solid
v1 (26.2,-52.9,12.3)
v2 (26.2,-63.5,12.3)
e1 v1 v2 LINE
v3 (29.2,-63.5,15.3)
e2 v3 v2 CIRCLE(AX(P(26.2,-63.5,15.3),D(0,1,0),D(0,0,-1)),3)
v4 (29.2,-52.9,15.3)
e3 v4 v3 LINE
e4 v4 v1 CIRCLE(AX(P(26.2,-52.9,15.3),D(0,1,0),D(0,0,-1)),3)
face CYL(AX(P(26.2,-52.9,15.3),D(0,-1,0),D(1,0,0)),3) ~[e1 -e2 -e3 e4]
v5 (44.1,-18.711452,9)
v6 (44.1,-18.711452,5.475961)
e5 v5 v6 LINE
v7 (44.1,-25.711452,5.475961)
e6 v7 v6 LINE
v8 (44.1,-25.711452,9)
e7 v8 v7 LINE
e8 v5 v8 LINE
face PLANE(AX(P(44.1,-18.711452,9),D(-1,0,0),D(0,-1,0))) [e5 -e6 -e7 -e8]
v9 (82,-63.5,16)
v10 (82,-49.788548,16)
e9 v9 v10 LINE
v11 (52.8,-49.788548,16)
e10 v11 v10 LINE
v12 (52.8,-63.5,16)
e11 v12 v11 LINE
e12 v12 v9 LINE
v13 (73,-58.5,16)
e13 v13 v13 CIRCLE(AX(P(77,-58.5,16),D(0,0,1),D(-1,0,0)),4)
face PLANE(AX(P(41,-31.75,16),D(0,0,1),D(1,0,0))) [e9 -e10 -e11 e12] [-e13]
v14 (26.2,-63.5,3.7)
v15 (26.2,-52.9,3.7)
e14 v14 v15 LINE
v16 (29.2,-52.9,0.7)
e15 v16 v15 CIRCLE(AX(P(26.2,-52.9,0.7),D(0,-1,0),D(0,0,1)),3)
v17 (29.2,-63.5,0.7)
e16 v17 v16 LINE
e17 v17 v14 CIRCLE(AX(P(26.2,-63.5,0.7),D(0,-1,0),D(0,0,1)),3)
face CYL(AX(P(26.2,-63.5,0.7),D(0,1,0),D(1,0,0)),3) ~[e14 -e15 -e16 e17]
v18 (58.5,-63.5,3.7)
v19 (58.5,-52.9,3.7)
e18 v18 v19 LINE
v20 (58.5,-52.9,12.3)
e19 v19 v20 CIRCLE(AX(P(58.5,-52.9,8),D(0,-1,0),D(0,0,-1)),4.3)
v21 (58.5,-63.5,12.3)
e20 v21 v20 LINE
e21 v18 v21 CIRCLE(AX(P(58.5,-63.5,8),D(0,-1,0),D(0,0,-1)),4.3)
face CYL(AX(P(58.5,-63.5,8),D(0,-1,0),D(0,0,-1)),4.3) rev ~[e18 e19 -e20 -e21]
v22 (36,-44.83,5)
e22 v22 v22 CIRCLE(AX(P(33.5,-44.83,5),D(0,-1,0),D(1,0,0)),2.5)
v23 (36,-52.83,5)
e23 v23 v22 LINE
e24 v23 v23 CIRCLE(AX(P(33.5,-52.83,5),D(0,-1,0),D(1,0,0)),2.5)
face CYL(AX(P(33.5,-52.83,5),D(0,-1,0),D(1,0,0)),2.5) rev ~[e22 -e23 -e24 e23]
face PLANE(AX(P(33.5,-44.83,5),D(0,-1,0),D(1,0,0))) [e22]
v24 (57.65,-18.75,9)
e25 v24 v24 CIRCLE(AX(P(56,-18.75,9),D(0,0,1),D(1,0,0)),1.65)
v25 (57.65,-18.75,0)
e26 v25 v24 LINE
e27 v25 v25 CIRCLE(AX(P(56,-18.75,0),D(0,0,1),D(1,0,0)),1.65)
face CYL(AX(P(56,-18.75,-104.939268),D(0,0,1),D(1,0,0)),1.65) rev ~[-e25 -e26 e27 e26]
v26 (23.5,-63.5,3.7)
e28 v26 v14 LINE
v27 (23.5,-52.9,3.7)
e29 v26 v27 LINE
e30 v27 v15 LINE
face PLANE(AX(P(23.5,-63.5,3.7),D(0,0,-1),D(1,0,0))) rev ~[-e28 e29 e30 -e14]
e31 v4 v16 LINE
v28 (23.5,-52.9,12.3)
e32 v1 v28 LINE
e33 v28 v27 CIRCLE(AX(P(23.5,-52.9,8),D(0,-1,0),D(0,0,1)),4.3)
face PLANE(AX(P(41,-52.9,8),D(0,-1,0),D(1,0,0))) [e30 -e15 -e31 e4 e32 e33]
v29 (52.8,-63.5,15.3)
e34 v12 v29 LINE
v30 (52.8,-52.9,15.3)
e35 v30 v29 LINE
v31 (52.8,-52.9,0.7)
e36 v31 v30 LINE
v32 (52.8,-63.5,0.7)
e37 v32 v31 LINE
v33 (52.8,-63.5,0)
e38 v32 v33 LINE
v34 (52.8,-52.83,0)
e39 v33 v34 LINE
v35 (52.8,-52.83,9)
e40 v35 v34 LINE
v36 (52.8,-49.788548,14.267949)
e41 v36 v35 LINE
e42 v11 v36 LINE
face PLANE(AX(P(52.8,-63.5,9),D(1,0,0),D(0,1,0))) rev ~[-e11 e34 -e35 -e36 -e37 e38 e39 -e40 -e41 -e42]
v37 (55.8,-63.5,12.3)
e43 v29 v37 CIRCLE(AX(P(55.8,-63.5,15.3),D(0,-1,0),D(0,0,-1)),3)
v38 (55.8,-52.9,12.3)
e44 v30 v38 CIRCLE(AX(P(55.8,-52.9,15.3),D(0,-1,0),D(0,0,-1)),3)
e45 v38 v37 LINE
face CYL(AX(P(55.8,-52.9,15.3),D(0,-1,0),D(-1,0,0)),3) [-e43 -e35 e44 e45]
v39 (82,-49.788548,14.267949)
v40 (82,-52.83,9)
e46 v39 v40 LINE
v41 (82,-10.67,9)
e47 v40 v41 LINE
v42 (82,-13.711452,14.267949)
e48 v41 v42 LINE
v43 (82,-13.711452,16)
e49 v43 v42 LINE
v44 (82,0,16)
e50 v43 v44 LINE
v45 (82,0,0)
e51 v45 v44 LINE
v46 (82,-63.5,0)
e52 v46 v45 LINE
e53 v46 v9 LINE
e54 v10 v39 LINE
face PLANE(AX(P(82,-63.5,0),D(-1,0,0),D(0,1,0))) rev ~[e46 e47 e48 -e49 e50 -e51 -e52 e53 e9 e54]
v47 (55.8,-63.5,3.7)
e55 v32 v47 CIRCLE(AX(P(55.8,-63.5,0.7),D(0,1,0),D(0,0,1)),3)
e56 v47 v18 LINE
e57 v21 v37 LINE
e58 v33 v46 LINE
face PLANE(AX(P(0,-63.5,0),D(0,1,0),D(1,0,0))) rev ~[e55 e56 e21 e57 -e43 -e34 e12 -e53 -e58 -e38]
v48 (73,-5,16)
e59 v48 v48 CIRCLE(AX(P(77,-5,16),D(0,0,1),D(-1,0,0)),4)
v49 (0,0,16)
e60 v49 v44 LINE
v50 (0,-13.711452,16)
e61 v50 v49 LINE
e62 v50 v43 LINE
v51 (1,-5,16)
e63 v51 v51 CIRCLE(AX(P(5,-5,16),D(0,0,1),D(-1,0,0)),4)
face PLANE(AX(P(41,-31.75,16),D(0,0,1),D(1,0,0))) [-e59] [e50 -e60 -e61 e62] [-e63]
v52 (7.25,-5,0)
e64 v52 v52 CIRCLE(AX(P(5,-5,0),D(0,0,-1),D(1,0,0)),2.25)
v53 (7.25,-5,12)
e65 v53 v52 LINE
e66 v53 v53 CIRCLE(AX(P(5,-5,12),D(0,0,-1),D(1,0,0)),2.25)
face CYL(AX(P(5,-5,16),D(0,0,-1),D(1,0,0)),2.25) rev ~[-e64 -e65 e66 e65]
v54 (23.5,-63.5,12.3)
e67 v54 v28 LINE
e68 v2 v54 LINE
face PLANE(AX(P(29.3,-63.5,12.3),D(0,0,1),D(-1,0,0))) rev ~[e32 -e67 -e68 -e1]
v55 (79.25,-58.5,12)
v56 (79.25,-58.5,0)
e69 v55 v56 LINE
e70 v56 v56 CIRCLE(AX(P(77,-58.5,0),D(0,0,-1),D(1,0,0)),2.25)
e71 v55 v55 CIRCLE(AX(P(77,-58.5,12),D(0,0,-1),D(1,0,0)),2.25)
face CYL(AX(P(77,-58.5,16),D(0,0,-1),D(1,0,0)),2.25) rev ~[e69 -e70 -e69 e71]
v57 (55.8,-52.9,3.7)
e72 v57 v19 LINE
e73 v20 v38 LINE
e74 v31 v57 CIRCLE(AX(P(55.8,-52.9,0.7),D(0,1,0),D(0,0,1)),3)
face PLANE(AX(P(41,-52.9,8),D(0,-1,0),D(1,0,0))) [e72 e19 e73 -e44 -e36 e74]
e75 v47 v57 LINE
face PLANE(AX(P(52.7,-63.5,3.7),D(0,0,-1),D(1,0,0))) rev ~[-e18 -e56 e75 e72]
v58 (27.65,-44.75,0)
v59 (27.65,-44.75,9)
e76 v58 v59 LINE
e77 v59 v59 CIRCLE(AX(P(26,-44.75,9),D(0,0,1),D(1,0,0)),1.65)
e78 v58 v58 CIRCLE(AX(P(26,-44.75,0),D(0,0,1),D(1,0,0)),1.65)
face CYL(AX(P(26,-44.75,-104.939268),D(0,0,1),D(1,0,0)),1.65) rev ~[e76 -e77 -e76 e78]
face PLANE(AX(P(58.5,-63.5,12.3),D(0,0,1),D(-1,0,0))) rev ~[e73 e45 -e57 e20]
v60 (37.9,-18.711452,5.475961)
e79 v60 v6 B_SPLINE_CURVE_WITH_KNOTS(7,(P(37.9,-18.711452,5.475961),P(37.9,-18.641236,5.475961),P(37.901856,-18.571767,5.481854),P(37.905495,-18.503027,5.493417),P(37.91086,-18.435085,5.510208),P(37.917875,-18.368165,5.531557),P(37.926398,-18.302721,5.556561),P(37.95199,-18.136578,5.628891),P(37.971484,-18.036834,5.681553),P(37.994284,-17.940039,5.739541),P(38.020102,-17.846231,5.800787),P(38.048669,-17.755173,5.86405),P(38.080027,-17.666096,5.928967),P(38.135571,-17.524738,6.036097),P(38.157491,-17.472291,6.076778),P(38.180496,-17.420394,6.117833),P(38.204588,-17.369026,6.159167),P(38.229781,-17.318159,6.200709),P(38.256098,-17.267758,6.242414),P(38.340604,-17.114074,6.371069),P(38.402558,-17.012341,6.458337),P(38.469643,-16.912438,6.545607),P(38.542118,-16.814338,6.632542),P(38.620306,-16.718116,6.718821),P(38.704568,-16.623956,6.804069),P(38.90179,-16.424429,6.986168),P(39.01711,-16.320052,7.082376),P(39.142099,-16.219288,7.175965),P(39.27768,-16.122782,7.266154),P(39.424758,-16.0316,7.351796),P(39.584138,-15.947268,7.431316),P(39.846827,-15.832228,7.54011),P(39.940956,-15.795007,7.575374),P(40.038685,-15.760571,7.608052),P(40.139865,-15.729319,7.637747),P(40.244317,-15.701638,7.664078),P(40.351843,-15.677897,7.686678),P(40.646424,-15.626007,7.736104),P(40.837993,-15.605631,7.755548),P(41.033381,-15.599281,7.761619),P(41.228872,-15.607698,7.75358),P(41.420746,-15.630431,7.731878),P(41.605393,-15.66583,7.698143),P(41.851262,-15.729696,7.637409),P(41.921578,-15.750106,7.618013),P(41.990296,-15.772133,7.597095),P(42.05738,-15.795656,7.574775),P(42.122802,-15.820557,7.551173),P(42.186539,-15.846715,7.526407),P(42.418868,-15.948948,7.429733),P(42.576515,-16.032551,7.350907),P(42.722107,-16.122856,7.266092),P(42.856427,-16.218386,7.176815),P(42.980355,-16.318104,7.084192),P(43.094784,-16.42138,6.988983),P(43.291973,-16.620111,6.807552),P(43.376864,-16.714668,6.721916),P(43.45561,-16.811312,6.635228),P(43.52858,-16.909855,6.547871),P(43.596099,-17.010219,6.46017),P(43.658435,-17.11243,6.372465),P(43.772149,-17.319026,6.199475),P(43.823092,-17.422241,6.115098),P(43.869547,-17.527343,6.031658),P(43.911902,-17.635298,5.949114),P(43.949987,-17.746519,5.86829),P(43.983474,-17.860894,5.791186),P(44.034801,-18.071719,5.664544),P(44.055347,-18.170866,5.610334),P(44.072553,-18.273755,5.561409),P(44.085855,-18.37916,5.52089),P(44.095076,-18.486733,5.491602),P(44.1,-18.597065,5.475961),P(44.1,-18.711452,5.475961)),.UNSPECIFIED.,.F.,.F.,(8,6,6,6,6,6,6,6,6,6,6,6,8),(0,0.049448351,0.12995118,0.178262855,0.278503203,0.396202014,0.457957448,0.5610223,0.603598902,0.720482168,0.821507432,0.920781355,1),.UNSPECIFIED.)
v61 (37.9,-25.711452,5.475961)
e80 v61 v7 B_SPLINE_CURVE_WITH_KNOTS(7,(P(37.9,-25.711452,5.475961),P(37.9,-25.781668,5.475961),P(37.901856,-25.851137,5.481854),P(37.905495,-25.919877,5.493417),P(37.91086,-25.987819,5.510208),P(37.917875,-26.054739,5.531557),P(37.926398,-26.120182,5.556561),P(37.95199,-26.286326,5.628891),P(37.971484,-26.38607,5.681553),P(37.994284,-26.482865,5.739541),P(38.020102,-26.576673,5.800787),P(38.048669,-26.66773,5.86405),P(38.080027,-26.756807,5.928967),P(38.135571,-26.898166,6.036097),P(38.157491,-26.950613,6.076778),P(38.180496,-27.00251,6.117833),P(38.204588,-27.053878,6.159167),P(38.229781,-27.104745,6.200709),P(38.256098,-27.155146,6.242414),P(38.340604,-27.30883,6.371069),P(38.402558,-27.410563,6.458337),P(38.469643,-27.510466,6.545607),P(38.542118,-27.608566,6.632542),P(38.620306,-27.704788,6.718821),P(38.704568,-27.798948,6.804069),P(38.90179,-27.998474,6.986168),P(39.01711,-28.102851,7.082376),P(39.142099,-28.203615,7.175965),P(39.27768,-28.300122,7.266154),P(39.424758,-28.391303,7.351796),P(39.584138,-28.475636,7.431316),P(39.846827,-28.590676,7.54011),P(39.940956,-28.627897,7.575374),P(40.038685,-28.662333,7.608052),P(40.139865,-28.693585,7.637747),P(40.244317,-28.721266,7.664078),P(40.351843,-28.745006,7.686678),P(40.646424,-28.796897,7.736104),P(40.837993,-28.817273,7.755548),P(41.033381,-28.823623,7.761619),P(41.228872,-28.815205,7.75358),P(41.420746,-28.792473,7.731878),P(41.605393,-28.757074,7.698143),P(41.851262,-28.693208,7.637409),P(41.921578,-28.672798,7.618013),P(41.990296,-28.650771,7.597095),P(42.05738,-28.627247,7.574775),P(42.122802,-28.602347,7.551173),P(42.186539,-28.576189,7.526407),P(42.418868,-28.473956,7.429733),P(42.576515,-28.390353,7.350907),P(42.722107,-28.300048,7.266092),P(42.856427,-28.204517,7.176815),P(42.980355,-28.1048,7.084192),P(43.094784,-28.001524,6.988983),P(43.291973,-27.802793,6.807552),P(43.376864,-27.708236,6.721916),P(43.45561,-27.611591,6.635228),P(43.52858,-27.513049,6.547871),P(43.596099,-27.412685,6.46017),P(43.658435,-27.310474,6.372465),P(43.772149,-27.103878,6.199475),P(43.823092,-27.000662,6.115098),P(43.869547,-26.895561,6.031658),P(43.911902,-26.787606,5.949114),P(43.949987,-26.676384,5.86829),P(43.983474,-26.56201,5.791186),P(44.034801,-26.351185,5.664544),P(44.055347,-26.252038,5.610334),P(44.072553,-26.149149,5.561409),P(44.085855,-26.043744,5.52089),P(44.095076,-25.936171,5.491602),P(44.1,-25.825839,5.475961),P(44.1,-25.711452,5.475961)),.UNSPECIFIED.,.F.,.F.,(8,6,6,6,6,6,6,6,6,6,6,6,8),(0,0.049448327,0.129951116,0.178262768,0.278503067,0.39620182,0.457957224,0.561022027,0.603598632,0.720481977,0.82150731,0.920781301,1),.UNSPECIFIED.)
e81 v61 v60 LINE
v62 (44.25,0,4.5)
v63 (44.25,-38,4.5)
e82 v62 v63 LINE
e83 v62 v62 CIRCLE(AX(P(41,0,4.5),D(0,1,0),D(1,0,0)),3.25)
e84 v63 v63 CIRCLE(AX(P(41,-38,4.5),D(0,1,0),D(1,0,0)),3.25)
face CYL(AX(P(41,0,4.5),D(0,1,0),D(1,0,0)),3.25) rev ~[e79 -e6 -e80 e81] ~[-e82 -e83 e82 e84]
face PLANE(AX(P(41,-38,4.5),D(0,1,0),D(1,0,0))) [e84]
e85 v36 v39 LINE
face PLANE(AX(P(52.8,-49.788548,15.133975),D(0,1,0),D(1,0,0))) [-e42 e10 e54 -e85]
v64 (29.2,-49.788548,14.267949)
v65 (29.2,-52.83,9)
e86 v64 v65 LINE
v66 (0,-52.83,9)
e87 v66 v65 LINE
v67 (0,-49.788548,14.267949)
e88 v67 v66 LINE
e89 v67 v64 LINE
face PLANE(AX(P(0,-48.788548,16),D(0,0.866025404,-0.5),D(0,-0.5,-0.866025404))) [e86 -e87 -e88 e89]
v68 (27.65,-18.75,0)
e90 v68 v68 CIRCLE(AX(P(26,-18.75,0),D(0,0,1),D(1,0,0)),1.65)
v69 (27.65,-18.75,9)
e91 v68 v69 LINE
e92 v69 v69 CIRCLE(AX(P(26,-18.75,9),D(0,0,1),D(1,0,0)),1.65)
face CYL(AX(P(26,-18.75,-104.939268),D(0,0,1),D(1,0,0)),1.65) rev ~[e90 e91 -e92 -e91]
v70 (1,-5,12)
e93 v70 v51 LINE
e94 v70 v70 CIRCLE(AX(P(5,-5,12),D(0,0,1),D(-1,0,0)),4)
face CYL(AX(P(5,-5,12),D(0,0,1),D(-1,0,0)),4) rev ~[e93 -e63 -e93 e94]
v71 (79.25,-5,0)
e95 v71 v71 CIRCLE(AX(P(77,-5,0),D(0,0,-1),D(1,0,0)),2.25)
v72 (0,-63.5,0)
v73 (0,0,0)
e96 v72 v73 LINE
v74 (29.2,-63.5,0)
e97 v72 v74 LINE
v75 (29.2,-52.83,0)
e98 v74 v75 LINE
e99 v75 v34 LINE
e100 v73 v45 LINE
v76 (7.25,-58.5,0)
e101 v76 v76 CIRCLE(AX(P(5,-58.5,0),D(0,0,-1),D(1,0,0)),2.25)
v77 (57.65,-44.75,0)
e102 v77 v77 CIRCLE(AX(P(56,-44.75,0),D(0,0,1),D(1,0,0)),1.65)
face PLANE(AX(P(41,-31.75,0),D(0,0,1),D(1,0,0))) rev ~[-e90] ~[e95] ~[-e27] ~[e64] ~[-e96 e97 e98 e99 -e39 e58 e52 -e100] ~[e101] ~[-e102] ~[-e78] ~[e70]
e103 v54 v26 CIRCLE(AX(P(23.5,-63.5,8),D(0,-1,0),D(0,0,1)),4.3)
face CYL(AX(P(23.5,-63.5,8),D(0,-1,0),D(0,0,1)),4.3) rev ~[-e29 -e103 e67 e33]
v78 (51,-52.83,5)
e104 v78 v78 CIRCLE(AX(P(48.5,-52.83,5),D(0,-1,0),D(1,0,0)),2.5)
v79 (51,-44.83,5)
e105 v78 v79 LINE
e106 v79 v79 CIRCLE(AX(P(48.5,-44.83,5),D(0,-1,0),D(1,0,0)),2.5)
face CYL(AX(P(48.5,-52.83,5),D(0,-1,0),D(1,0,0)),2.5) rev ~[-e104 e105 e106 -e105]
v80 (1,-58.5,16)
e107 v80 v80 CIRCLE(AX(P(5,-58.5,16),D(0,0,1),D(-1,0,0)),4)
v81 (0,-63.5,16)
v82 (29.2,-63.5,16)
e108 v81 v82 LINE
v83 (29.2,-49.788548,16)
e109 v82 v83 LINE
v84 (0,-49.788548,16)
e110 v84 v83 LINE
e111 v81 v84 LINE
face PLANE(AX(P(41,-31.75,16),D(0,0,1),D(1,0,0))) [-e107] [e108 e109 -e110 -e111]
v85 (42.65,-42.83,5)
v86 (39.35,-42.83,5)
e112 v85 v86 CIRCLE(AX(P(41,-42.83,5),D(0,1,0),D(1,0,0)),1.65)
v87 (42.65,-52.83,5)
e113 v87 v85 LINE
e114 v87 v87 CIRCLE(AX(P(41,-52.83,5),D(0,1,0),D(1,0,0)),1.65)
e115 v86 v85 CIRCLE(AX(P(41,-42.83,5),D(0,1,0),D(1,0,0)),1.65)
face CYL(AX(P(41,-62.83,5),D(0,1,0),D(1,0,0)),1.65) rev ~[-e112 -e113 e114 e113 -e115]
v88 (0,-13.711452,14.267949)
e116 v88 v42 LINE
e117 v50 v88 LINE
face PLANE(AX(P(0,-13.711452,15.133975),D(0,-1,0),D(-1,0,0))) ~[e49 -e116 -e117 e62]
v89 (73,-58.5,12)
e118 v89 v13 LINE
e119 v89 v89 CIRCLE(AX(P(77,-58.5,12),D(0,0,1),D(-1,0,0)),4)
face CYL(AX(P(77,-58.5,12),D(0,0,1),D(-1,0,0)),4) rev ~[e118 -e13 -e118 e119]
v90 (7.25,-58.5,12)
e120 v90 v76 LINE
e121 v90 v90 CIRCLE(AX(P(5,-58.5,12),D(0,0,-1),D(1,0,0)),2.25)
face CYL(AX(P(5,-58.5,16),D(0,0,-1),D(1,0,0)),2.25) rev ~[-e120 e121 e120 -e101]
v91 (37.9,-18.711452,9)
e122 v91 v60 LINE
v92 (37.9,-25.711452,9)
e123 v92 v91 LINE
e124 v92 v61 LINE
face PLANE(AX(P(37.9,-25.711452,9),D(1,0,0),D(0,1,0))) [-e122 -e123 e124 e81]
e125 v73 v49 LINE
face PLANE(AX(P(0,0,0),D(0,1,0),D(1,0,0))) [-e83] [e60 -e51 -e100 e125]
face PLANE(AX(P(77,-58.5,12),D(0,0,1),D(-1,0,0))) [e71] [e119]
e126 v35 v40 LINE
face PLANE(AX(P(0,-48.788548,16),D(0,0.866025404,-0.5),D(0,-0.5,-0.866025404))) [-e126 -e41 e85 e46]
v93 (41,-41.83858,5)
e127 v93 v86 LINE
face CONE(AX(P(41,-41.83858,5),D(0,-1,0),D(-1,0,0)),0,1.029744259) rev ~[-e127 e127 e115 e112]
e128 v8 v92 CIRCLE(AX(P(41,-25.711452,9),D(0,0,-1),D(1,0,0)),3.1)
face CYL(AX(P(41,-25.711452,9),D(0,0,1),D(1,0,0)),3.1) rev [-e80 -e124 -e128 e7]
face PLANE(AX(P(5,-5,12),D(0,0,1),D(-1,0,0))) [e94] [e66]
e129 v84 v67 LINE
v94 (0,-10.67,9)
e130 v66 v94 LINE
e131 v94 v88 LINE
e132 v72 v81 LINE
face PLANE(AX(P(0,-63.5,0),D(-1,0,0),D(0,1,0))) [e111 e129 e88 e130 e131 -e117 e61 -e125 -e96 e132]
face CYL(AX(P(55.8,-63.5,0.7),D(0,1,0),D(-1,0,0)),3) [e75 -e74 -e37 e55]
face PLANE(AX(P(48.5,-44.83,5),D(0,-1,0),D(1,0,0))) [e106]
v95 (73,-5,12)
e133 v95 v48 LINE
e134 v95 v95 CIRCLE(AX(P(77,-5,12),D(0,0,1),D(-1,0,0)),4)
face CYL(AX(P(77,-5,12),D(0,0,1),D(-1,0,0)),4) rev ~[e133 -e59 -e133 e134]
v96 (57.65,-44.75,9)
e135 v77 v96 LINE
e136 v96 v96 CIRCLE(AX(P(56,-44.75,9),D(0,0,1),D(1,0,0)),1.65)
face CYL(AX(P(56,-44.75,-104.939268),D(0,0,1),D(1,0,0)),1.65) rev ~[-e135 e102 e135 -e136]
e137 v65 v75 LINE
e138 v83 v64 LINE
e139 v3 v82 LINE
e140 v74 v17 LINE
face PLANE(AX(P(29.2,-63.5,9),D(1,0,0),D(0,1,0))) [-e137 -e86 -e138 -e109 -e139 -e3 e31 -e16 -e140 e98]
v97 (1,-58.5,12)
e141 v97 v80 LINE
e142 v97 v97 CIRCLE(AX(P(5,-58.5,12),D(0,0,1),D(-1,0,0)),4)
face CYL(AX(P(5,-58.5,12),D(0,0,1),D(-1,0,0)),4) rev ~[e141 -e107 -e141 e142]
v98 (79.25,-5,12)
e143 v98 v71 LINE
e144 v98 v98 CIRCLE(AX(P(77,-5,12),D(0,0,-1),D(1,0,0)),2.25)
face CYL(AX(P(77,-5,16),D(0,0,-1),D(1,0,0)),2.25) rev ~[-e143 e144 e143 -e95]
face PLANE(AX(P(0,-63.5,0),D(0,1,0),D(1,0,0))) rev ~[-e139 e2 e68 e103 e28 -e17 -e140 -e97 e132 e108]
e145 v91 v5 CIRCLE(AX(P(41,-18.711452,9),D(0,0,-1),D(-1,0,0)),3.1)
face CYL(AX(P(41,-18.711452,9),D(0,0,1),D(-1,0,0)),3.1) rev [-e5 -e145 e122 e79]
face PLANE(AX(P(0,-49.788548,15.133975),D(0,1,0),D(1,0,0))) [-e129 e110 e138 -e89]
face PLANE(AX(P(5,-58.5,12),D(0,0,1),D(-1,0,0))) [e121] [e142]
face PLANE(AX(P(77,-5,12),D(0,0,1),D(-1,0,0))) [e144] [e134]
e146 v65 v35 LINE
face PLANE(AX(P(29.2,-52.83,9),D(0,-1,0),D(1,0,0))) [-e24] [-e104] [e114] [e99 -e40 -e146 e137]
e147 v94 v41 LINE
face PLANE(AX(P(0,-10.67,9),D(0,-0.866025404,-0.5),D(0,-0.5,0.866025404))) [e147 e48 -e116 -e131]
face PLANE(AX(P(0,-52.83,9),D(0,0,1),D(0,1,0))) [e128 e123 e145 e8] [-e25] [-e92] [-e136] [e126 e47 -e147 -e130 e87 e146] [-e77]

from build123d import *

# Parameters (mm, degrees)
SKETCH_1_W                  = 82
SKETCH_1_H                  = 63.5
EXTRUDE_1_DEPTH             = 16
CUT_EXTRUDE_1_DEPTH         = 83
SKETCH_15_W                 = 23.6
SKETCH_15_H                 = 14.711451884
CUT_EXTRUDE_4_DEPTH         = 7
SKETCH_16_W                 = 23.6
SKETCH_16_H                 = 10.67
CUT_EXTRUDE_5_DEPTH         = 9
SKETCH_17_R                 = 2.5
CUT_EXTRUDE_6_DEPTH         = 8
M4X0_72_D                   = 3.3
M4X0_72_DEPTH               = 10
M4X0_72_TIP                 = 0.991420021
CUT_EXTRUDE_7_DEPTH         = 4
SKETCH_26_R                 = 3.25
CUT_EXTRUDE_8_DEPTH         = 38
HOLE_WIZARD_M41_D           = 4.5
HOLE_WIZARD_M41_CBORE_D     = 8
HOLE_WIZARD_M41_CBORE_DEPTH = 4
CHAMFER_2_SIZE              = 1
CHAMFER_2_SIZE2             = 2
CHAMFER_2_PART_2_SIZE       = 1
CHAMFER_2_PART_2_SIZE2      = 2
CHAMFER_2_PART_3_SIZE       = 1
CHAMFER_2_PART_3_SIZE2      = 2
CUT_EXTRUDE_12_DEPTH        = 10.6
FILLET_1_R                  = 3
M4X0_73_D                   = 3.3


with BuildPart() as part:
    # Эскиз1 → Бобышка-Вытянуть1 (new body)
    with BuildSketch(Plane.XY):
        with Locations((41, -31.75)):
            Rectangle(SKETCH_1_W, SKETCH_1_H)
    extrude(amount=EXTRUDE_1_DEPTH)

    # Эскиз2 → Вырез-Вытянуть1 (cut, through all)
    with BuildSketch(Plane.ZY):
        Polygon((9, -10.67), (16, -14.711451884), (16, -48.788548116), (9, -52.83), align=None)
    extrude(amount=-CUT_EXTRUDE_1_DEPTH, mode=Mode.SUBTRACT)

    # Эскиз15 → Вырез-Вытянуть4 (cut)
    with BuildSketch(Plane.XY.offset(16)):
        with Locations((41, -56.144274058)):
            Rectangle(SKETCH_15_W, SKETCH_15_H)
    extrude(amount=-CUT_EXTRUDE_4_DEPTH, mode=Mode.SUBTRACT)

    # Эскиз16 → Вырез-Вытянуть5 (cut)
    with BuildSketch(Plane.XY.offset(9)):
        with Locations((41, -58.165)):
            Rectangle(SKETCH_16_W, SKETCH_16_H)
    extrude(amount=-CUT_EXTRUDE_5_DEPTH, mode=Mode.SUBTRACT)

    # Эскиз17 → Вырез-Вытянуть6 (cut)
    with BuildSketch(Plane.XZ.offset(52.83)):
        with Locations((33.5, 5)):
            Circle(SKETCH_17_R)
        with Locations((48.5, 5)):
            Circle(SKETCH_17_R)
    extrude(amount=-CUT_EXTRUDE_6_DEPTH, mode=Mode.SUBTRACT)

    # Отверстие обработанное метчиком M4x0.72
    with Locations(Plane(origin=(0, -52.83, 0), x_dir=(-1, 0, 0), z_dir=(0, -1, 0))):
        with Locations((-41, -5)):
            Hole(M4X0_72_D / 2, depth=M4X0_72_DEPTH)
            with Locations((0, 0, -(M4X0_72_DEPTH + M4X0_72_TIP / 2))):  # 118° drill point
                Cone(0, M4X0_72_D / 2, M4X0_72_TIP, mode=Mode.SUBTRACT)

    # Эскиз25 → Вырез-Вытянуть7 (cut)
    with BuildSketch(Plane.XY.offset(9)):
        with BuildLine():
            Line((44.1, -18.711451884), (44.1, -25.711451884))
            ThreePointArc((44.1, -25.711451884), (41, -28.811451884), (37.9, -25.711451884))
            Line((37.9, -25.711451884), (37.9, -18.711451884))
            ThreePointArc((37.9, -18.711451884), (41, -15.611451884), (44.1, -18.711451884))
        make_face()
    extrude(amount=-CUT_EXTRUDE_7_DEPTH, mode=Mode.SUBTRACT)

    # Эскиз26 → Вырез-Вытянуть8 (cut)
    with BuildSketch(Plane(origin=(0, 0, 0), x_dir=(1, 0, 0), z_dir=(0, 1, 0))):
        with Locations((41, -4.5)):
            Circle(SKETCH_26_R)
    extrude(amount=-CUT_EXTRUDE_8_DEPTH, mode=Mode.SUBTRACT)

    # Цековка для винта с внутренним шестигранником M41 (through all)
    with Locations(Plane(origin=(30.759227947, 26.793365177, 16), x_dir=(-1, 0, 0), z_dir=(0, 0, 1))):
        with Locations((-46.240772053, 31.793365177), (-46.240772053, 85.293365177), (25.759227947, 85.293365177), (25.759227947, 31.793365177)):
            CounterBoreHole(HOLE_WIZARD_M41_D / 2, HOLE_WIZARD_M41_CBORE_D / 2, HOLE_WIZARD_M41_CBORE_DEPTH)

    # Фаска2
    chamfer_2_edges = [part.edges().sort_by_distance(p)[0] for p in [
        (41, -14.711451884, 16),
    ]]
    chamfer_2_side = [part.faces().sort_by_distance(p)[0] for p in [
        (41, -7.569889145, 16),
    ]]
    chamfer(chamfer_2_edges, length=CHAMFER_2_SIZE, length2=CHAMFER_2_SIZE2, reference=chamfer_2_side[0])

    # Фаска2 part 2
    chamfer_2_part_2_edges = [part.edges().sort_by_distance(p)[0] for p in [
        (67.4, -48.788548116, 16),
    ]]
    chamfer_2_part_2_side = [part.faces().sort_by_distance(p)[0] for p in [
        (66.127821531, -55.832096576, 16),
    ]]
    chamfer(chamfer_2_part_2_edges, length=CHAMFER_2_PART_2_SIZE, length2=CHAMFER_2_PART_2_SIZE2, reference=chamfer_2_part_2_side[0])

    # Фаска2 part 3
    chamfer_2_part_3_edges = [part.edges().sort_by_distance(p)[0] for p in [
        (14.6, -48.788548116, 16),
    ]]
    chamfer_2_part_3_side = [part.faces().sort_by_distance(p)[0] for p in [
        (15.872178469, -55.832096576, 16),
    ]]
    chamfer(chamfer_2_part_3_edges, length=CHAMFER_2_PART_3_SIZE, length2=CHAMFER_2_PART_3_SIZE2, reference=chamfer_2_part_3_side[0])

    # Эскиз32 → Вырез-Вытянуть12 (cut)
    with BuildSketch(Plane.XZ.offset(63.5)):
        with BuildLine():
            Line((52.7, -0.2), (52.7, 3.7))
            Line((52.7, 3.7), (58.5, 3.7))
            ThreePointArc((58.5, 3.7), (62.8, 8), (58.5, 12.3))
            Line((58.5, 12.3), (52.7, 12.3))
            Line((52.7, 12.3), (52.7, 16.2))
            Line((52.7, 16.2), (29.3, 16.2))
            Line((29.3, 16.2), (29.3, 12.3))
            Line((29.3, 12.3), (23.5, 12.3))
            ThreePointArc((23.5, 12.3), (19.2, 8), (23.5, 3.7))
            Line((23.5, 3.7), (29.3, 3.7))
            Line((29.3, 3.7), (29.3, -0.2))
            Line((29.3, -0.2), (52.7, -0.2))
        make_face()
    extrude(amount=-CUT_EXTRUDE_12_DEPTH, mode=Mode.SUBTRACT)

    # Скругление1
    fillet_1_edges = [part.edges().sort_by_distance(p)[0] for p in [
        (52.8, -58.2, 3.7),
        (52.8, -58.2, 12.3),
        (29.2, -58.2, 12.3),
        (29.2, -58.2, 3.7),
    ]]
    fillet(fillet_1_edges, radius=FILLET_1_R)

    # Отверстие обработанное метчиком M4x0.73 (through all)
    with Locations(Plane(origin=(0, 0, 0), x_dir=(-1, 0, 0), z_dir=(0, 0, -1))):
        with Locations((-26, -44.75), (-26, -18.75), (-56, -18.75), (-56, -44.75)):
            Hole(M4X0_73_D / 2)


solid = part.part
